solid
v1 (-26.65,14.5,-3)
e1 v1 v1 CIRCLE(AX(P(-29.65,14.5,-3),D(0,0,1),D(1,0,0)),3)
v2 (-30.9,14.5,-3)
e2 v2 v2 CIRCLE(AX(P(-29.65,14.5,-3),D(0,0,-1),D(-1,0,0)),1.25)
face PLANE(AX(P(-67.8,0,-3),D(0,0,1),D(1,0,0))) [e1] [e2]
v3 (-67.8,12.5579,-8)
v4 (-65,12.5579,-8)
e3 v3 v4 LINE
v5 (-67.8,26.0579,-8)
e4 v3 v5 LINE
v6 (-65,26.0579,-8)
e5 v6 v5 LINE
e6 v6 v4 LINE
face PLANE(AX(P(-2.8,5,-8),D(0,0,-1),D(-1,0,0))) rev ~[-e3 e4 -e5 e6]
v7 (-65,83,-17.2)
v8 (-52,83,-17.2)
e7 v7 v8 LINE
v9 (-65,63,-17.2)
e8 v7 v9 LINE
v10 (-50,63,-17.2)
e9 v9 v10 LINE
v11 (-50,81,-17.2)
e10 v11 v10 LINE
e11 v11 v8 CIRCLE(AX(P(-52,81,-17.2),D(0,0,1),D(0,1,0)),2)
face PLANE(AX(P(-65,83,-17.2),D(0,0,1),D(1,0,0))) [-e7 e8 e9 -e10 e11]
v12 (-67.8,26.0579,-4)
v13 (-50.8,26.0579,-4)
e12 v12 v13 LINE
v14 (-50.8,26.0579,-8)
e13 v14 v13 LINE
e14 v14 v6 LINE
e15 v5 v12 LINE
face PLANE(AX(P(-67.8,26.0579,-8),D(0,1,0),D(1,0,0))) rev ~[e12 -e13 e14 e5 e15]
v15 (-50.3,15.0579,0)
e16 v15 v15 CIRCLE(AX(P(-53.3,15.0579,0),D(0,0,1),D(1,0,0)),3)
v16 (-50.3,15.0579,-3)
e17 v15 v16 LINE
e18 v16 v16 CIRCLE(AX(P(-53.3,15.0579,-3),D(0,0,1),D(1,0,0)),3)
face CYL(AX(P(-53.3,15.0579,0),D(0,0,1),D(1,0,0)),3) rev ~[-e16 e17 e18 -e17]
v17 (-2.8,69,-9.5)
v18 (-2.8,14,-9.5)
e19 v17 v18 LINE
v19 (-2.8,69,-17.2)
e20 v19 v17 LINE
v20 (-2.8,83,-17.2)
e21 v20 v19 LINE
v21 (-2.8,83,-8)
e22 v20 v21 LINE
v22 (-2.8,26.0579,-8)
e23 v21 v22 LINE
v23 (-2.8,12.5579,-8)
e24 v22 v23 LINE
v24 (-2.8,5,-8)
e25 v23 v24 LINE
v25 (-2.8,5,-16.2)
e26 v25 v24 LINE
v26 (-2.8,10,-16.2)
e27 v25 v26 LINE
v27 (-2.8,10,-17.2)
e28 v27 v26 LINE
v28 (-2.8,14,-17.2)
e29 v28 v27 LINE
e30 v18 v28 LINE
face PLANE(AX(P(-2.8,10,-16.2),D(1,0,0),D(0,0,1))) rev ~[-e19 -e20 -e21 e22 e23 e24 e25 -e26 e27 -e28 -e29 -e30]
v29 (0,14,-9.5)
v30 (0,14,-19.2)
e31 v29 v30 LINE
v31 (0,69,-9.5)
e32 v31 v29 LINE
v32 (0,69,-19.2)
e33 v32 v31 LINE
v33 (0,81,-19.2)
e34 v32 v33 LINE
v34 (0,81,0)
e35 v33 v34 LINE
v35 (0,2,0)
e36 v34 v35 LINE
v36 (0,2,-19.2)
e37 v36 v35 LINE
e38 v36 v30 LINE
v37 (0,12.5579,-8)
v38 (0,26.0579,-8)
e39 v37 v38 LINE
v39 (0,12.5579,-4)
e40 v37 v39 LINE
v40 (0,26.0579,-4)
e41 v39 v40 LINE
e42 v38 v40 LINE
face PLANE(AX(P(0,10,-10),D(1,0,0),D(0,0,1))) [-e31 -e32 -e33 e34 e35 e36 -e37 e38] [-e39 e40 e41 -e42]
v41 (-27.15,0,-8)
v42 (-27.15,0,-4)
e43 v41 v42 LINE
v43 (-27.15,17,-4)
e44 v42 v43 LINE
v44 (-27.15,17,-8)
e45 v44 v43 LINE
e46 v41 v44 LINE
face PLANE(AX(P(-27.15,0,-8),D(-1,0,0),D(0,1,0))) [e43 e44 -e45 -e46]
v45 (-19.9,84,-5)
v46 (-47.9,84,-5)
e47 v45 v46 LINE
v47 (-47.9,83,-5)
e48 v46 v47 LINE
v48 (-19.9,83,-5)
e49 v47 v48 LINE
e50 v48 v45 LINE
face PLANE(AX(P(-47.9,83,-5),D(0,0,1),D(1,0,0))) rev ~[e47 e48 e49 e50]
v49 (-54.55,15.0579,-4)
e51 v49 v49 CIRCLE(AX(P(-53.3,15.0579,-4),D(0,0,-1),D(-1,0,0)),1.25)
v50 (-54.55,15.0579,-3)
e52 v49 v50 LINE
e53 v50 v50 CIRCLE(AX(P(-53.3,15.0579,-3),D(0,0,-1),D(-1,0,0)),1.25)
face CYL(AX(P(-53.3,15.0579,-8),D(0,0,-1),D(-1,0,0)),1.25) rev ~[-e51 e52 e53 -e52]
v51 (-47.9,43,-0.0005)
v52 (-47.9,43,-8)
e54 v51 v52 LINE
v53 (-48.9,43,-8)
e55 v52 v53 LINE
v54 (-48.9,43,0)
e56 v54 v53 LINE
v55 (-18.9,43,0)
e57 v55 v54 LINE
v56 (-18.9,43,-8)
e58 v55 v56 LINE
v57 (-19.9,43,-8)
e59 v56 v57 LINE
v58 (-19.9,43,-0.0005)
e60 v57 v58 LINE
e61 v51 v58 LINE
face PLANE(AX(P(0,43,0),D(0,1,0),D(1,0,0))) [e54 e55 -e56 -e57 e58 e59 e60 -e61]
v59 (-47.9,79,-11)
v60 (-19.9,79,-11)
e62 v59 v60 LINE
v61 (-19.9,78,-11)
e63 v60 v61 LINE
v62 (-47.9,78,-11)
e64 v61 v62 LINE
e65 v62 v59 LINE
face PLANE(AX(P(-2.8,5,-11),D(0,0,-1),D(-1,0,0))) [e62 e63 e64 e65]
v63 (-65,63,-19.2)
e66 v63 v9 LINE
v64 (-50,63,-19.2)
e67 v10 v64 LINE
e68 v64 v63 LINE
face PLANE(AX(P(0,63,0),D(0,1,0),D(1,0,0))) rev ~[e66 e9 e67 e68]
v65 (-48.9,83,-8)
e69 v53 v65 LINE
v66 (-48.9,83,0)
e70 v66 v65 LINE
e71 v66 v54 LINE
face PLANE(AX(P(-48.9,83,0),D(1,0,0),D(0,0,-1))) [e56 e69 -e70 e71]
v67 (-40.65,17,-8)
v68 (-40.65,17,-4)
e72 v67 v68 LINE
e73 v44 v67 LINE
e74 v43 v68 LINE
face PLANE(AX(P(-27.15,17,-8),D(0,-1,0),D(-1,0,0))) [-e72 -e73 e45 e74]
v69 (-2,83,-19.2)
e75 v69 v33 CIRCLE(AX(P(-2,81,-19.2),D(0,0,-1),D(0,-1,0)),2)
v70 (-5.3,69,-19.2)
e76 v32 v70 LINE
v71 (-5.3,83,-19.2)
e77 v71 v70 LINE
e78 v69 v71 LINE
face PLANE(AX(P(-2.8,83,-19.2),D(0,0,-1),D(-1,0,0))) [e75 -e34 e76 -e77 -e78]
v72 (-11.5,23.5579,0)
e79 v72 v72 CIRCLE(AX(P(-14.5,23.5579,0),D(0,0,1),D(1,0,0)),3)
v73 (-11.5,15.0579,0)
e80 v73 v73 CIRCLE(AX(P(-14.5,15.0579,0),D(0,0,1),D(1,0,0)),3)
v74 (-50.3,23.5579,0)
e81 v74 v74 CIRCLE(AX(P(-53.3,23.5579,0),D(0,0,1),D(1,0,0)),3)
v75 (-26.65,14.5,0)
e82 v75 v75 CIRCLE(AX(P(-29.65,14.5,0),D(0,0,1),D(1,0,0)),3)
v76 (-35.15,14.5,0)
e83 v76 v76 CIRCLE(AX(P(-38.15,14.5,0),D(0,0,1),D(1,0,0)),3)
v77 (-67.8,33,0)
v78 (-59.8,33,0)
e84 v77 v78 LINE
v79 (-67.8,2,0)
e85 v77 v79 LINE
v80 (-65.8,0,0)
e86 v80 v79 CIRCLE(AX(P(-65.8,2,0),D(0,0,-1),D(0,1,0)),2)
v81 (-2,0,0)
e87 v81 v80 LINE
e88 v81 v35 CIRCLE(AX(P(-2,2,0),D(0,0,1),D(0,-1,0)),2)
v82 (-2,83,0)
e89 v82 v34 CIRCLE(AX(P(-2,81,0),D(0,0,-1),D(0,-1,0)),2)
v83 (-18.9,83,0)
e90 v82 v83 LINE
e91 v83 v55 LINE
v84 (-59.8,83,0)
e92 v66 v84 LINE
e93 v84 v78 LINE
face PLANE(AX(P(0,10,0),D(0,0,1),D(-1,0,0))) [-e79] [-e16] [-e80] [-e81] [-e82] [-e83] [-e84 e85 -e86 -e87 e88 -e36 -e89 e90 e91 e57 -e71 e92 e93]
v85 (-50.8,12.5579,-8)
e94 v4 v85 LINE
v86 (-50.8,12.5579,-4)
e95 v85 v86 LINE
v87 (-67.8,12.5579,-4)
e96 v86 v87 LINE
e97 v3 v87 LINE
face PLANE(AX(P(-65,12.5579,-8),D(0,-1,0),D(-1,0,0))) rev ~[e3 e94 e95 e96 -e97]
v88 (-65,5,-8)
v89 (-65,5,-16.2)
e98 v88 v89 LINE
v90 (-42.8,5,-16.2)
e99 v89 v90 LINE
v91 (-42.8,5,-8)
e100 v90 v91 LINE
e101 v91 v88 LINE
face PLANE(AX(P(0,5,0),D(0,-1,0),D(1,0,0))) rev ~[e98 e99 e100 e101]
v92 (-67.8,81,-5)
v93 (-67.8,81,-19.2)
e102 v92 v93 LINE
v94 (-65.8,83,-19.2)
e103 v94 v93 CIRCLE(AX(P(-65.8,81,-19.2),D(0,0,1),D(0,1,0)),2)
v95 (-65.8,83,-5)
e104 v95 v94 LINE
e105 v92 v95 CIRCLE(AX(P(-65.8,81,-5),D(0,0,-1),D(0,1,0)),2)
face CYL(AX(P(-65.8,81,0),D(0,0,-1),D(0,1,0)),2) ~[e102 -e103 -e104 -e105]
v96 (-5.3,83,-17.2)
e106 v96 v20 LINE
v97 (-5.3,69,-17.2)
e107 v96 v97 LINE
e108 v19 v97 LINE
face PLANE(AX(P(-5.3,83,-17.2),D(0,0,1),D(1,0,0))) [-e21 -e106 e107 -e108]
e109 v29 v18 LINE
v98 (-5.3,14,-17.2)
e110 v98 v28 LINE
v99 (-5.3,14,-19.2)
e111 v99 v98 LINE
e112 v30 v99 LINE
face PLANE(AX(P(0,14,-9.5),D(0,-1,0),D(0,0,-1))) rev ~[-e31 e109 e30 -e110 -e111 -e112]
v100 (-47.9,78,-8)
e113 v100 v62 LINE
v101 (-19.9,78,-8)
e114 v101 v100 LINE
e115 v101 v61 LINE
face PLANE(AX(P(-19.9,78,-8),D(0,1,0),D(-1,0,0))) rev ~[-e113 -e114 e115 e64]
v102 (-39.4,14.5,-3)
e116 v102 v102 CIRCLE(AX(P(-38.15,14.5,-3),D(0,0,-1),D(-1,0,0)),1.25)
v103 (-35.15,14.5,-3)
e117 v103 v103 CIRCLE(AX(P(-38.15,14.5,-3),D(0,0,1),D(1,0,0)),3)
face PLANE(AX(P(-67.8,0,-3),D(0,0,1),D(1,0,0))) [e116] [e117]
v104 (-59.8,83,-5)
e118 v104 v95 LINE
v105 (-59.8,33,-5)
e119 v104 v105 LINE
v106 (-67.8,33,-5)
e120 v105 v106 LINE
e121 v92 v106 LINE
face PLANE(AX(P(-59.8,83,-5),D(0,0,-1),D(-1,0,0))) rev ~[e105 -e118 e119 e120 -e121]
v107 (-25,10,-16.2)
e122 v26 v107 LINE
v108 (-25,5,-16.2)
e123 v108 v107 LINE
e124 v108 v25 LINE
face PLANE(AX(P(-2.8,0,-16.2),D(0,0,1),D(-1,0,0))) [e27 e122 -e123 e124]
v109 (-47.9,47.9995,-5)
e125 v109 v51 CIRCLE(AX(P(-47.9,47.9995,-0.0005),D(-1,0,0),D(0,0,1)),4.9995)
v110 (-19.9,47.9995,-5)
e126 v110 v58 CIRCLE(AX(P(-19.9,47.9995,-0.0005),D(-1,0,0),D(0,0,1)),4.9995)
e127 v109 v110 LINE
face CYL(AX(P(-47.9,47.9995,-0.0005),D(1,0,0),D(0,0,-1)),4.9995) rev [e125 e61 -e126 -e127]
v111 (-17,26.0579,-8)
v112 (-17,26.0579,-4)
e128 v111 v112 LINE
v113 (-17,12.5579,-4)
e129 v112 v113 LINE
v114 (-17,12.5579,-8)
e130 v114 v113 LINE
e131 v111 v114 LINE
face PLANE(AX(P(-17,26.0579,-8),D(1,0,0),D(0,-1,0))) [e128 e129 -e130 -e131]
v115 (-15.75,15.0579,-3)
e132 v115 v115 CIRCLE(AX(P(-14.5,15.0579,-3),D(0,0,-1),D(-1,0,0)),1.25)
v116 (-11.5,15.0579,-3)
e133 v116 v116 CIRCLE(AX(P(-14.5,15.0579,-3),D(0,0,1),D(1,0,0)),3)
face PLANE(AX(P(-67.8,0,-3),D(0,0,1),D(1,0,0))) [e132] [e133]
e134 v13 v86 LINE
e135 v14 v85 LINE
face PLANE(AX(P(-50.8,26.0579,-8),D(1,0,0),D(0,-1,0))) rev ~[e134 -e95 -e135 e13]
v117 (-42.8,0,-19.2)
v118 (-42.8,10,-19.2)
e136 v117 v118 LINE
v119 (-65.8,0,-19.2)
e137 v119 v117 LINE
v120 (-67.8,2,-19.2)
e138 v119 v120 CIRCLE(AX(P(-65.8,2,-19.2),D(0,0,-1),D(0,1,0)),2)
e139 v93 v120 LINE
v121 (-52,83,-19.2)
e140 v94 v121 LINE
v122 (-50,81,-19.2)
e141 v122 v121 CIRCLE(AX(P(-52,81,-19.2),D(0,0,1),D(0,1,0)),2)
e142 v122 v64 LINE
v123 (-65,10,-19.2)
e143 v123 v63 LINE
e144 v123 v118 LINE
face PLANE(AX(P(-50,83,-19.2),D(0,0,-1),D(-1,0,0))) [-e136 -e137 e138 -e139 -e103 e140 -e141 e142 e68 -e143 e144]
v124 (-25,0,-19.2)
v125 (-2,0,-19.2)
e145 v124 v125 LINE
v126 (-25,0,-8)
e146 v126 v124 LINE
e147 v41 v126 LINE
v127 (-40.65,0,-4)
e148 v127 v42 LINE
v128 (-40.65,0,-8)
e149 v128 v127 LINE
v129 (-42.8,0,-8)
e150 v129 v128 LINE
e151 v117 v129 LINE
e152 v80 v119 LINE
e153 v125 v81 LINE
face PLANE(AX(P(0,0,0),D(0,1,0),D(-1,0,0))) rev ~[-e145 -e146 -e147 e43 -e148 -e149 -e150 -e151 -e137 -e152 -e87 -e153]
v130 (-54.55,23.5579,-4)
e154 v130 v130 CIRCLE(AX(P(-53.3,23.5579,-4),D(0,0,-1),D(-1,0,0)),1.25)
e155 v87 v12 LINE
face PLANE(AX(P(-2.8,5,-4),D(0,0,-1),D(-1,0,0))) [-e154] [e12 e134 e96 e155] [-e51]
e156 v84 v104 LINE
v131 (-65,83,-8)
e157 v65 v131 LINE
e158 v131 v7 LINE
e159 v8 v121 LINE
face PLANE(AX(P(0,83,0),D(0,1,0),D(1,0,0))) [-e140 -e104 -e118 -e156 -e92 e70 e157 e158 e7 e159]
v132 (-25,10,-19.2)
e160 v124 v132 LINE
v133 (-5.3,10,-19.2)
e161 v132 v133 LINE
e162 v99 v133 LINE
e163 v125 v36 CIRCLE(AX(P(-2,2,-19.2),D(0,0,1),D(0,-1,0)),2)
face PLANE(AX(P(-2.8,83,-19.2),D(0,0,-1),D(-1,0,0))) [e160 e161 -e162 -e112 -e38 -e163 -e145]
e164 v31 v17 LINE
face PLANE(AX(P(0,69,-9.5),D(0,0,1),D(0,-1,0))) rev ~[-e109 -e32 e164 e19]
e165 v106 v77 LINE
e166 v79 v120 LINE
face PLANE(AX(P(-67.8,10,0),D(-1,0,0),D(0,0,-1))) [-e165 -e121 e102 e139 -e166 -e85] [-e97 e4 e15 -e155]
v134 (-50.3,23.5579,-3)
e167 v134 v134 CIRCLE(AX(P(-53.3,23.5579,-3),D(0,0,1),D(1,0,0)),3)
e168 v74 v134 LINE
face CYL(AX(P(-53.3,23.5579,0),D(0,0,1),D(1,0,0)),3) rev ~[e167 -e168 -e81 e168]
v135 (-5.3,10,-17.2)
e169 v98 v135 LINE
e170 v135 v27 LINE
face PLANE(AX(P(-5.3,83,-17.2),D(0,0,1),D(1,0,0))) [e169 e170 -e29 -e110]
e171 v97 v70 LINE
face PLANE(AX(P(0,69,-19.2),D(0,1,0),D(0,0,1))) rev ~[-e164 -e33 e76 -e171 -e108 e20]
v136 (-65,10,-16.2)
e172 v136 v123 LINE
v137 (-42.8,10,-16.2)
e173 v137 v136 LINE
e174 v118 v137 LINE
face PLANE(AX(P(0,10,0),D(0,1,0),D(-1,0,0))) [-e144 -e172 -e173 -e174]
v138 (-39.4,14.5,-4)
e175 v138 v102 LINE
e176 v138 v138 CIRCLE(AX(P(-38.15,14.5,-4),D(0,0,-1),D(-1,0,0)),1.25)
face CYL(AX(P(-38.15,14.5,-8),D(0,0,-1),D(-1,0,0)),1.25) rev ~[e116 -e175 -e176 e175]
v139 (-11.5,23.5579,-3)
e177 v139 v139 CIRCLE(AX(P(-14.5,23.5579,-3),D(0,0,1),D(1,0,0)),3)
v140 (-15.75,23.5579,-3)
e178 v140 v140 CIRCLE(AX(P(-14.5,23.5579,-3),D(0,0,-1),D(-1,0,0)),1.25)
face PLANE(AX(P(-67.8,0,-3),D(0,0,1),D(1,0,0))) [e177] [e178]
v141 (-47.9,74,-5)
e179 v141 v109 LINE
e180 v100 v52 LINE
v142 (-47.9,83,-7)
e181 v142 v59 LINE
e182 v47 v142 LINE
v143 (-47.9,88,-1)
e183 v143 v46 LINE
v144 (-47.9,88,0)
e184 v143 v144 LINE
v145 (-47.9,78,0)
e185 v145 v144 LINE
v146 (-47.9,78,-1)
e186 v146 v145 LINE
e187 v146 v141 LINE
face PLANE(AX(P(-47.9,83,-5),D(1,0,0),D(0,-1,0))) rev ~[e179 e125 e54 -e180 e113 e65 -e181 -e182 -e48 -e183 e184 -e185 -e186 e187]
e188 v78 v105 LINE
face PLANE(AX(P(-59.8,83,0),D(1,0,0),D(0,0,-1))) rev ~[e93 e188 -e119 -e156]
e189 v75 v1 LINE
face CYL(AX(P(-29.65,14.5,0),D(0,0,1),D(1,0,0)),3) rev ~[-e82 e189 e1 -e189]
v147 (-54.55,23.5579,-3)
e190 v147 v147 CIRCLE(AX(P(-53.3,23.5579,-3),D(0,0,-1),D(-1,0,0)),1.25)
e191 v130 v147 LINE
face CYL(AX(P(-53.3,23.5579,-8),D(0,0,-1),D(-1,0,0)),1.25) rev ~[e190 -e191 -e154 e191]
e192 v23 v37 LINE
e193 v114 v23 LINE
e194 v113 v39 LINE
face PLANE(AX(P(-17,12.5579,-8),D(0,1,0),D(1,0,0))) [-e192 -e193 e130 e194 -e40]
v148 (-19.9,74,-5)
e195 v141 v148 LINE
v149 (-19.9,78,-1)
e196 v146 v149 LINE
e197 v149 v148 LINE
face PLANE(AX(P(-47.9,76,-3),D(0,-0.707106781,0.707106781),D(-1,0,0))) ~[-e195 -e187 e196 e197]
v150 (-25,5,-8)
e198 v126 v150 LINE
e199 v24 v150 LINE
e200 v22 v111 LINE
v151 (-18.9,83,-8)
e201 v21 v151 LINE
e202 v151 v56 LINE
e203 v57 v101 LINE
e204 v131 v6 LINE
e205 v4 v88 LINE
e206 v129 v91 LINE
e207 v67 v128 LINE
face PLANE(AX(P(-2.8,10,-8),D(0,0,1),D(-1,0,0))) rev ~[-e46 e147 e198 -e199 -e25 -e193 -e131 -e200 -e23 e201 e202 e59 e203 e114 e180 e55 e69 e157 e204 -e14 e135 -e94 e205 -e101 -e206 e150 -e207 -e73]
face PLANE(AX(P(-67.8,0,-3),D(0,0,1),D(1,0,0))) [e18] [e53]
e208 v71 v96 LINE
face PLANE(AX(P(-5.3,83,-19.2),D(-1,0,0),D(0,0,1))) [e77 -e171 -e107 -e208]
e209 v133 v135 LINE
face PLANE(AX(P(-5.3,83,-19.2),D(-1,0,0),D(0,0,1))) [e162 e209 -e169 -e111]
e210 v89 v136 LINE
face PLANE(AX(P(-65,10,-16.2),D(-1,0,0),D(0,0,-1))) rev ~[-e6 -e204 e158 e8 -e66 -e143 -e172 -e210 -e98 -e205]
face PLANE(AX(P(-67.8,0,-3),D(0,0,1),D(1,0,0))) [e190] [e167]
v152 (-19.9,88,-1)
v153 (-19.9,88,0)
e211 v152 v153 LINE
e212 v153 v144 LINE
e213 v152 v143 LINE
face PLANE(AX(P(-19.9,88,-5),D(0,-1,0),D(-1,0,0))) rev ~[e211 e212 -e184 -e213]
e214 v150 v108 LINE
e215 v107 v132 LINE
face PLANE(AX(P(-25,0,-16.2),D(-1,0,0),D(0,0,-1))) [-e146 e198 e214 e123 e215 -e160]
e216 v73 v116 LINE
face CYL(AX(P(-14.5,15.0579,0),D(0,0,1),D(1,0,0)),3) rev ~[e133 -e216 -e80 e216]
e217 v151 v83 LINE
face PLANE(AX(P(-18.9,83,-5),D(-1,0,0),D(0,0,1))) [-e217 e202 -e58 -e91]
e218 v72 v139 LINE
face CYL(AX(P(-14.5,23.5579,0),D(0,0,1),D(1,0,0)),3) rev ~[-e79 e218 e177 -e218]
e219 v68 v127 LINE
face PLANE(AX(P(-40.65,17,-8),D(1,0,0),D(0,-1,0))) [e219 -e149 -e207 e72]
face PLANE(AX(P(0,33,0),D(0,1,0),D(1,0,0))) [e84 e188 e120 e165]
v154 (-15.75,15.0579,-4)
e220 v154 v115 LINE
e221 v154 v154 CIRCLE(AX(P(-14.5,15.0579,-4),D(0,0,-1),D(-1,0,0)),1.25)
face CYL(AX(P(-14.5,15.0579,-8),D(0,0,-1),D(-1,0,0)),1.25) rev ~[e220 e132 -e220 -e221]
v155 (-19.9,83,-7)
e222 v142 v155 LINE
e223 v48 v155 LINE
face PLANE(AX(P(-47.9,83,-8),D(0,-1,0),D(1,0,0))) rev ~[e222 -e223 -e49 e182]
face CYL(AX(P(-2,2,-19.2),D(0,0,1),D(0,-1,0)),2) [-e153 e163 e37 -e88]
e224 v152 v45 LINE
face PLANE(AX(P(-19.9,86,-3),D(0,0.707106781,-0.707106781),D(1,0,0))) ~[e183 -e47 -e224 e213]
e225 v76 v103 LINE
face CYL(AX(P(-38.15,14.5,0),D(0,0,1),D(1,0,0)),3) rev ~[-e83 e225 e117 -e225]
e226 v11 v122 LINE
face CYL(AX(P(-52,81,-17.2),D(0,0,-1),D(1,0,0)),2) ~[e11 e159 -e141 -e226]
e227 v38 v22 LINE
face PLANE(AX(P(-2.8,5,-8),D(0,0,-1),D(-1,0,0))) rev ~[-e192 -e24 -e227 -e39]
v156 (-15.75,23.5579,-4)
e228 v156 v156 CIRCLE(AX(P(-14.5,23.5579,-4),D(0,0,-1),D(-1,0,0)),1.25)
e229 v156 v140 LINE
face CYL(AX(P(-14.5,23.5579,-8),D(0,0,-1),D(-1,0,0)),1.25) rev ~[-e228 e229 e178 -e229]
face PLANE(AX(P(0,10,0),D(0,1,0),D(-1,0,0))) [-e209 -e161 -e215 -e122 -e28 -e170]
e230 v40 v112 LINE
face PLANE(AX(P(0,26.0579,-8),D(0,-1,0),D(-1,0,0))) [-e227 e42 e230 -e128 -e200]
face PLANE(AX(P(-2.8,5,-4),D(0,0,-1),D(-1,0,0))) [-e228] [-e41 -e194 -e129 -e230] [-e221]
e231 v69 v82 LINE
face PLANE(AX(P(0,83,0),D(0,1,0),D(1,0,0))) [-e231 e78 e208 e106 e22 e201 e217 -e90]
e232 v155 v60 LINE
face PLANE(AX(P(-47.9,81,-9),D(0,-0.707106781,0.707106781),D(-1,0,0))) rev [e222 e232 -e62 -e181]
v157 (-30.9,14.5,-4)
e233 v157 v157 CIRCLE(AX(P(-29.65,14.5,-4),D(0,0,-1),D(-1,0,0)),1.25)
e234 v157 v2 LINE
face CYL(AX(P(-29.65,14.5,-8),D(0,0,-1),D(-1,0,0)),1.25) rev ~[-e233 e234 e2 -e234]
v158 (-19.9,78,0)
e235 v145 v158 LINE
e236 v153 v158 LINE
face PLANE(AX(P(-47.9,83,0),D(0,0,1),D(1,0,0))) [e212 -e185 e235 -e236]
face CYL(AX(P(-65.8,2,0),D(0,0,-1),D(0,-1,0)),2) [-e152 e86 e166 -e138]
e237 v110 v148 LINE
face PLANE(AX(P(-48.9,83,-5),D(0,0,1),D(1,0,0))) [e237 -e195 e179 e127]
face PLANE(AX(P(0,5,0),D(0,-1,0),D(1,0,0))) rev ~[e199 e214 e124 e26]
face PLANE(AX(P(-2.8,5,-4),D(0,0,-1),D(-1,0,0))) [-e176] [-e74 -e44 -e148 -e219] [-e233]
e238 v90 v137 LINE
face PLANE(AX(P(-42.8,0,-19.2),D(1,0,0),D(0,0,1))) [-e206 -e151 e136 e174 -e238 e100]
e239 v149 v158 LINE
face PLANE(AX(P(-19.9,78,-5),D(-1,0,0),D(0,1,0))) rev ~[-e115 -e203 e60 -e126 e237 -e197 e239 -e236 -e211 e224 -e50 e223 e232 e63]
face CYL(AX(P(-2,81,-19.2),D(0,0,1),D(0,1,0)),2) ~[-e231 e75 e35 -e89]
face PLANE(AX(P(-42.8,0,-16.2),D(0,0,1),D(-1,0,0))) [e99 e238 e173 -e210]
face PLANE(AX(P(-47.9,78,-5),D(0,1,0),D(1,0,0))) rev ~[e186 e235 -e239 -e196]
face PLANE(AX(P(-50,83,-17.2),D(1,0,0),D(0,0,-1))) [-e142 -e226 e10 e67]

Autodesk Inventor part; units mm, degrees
ref_plane "YZ Plane" through (0, 0, 0) normal (1, 0, 0) x (0, 1, 0)
ref_plane "XZ Plane" through (0, 0, 0) normal (0, 1, 0) x (-1, 0, 0)
ref_plane "XY Plane" through (0, 0, 0) normal (0, 0, 1) x (1, 0, 0)
sketch "Sketch2" plane through (0, 0, 0) normal (0, 1, 0) x (-1, 0, 0)
  line L0 (0, 0) -> (67.8, 0)
  line L1 (67.8, 0) -> (67.8, -19.2)
  line L2 (67.8, -19.2) -> (42.8, -19.2)
  line L3 (42.8, -19.2) -> (42.8, -16.2)
  line L4 (42.8, -16.2) -> (65, -16.2)
  line L5 (65, -16.2) -> (65, -8)
  line L6 (65, -8) -> (2.8, -8)
  line L7 (2.8, -8) -> (2.8, -16.2)
  line L8 (2.8, -16.2) -> (25, -16.2)
  line L9 (25, -16.2) -> (25, -19.2)
  line L10 (25, -19.2) -> (0, -19.2)
  line L11 (0, -19.2) -> (0, 0)
  dimension "d2" = 62.2
  dimension "d3" = 2.8
  dimension "d4" = 2.8
  dimension "d5" = 3
  dimension "d6" = 25
  dimension "d7" = 25
  dimension "d8" = 8
  dimension "d9" = 8.2
extrude "Extrusion1" add sketch "Sketch2" along normal blind 10
sketch "Sketch3" plane through (0, 0, 0) normal (0, -1, 0) x (1, 0, 0)
  line L0 (-2.8, -8) -> (-65, -8) projected
  line L1 (-42.8, -8) -> (-65, -8)
  line L2 (-65, -8) -> (-65, -16.2)
  line L3 (-65, -16.2) -> (-42.8, -16.2)
  line L4 (-42.8, -16.2) -> (-42.8, -8)
  line L5 (-42.8, -19.2) -> (-42.8, -16.2) projected
  line L6 (-42.8, -16.2) -> (-65, -16.2) projected
  line L7 (-25, -16.2) -> (-2.8, -16.2)
  line L8 (-2.8, -16.2) -> (-2.8, -8)
  line L9 (-2.8, -8) -> (-25, -8)
  line L10 (-25, -8) -> (-25, -16.2)
  line L11 (-65, -8) -> (-65, -16.2) projected
  point P0 (0, 0)
extrude "Extrusion2" add sketch "Sketch3" against normal blind 5
sketch "Sketch7" plane through (0, 10, 0) normal (0, 1, 0) x (1, 0, 0)
  line L0 (0, 10) -> (0, 0)
  line L1 (0, 0) -> (-67.8, 0)
  line L2 (-67.8, 0) -> (-67.8, 19.2)
  line L3 (0, 10) -> (0, 19.2)
  line L4 (0, 19.2) -> (-2.8, 19.2)
  line L5 (-2.8, 19.2) -> (-2.8, 8)
  line L6 (-2.8, 8) -> (-65, 8)
  line L7 (-65, 8) -> (-65, 19.2)
  line L8 (-65, 19.2) -> (-67.8, 19.2)
  line L9 (-67.8, 19.2) -> (-67.8, 0) projected
  line L10 (0, 19.2) -> (-25, 19.2) projected
  line L11 (-2.8, 8) -> (-65, 8) projected
  line L12 (-65, 8) -> (-65, 16.2) projected
  line L13 (-2.8, 16.2) -> (-2.8, 8) projected
extrude "Extrusion5" add sketch "Sketch7" along normal blind 73
sketch "Sketch10" plane through (0, 83, 0) normal (0, 1, 0) x (1, 0, 0)
  line L0 (-18.9, 0) -> (-48.9, 0)
  line L1 (-48.9, 0) -> (-48.9, 5)
  line L2 (-48.9, 5) -> (-18.9, 5)
  line L3 (-18.9, 5) -> (-18.9, 0)
  line L4 (-2.8, 8) -> (-65, 8) projected
  line L5 (-67.8, 0) -> (0, 0) projected
  line L6 (-33.9, 8) -> (-33.9, 19.521) construction
  line L7 (-33.9, 0) -> (-33.9, -9.399) construction
  dimension "d40" = 3
  dimension "d41" = 30
extrude "Extrusion8" cut sketch "Sketch10" against normal blind 40
sketch "Sketch11" plane through (-48.9, 83, -5) normal (0, 0, 1) x (1, 0, 0)
  line L0 (0, 0) -> (1, 0)
  line L1 (1, 0) -> (1, -40)
  line L2 (1, -40) -> (0, -40)
  line L3 (0, -40) -> (0, 0)
  line L4 (29, 0) -> (30, 0)
  line L5 (30, 0) -> (30, -40)
  line L6 (30, -40) -> (29, -40)
  line L7 (29, -40) -> (29, 0)
  line L8 (30, -40) -> (0, -40) projected
  line L9 (30, 0) -> (30, -40) projected
  line L10 (0, -40) -> (0, 0) projected
  line L11 (0, 0) -> (30, 0) projected
  point P0 (48.9, -83)
  dimension "d44" = 1
  dimension "d45" = 1
extrude "Extrusion9" cut sketch "Sketch11" against normal blind 30 contours L0 L1 L2 L3 | L4 L5 L6 L7
sketch "Sketch13" plane through (-2.8, 5, -8) normal (0, 0, -1) x (-1, 0, 0)
  line L0 (45.1, 78) -> (17.1, 78)
  line L1 (17.1, 78) -> (17.1, 73)
  line L2 (17.1, 73) -> (45.1, 73)
  line L3 (45.1, 73) -> (45.1, 78)
  line L4 (17.1, 78) -> (45.1, 78) projected
  line L5 (17.1, 78) -> (17.1, 38) projected
  line L6 (45.1, 38) -> (45.1, 78) projected
  point P0 (-2.8, -5)
  dimension "d48" = 5
extrude "Extrusion10" add sketch "Sketch13" along normal blind 3
chamfer "Chamfer1" distance 4 angle 45 1 edges at (-33.9, 83, -11)
fillet "Fillet1" radius 5 1 edges at (-33.9, 43, -5)
fillet "Fillet2" radius 2 4 edges at (0, 0, -9.6) (0, 83, -9.6) (-67.8, 0, -9.6) (-67.8, 83, -9.6)
sketch "Sketch16" plane through (-2.8, 5, -8) normal (0, 0, -1) x (-1, 0, 0)
  line L0 (65, 21.0579) -> (48, 21.0579)
  line L1 (48, 21.0579) -> (48, 7.5579)
  line L2 (48, 7.5579) -> (65, 7.5579)
  line L3 (65, 7.5579) -> (65, 21.0579)
  line L4 (24.35, 12) -> (37.85, 12)
  line L5 (37.85, 12) -> (37.85, -5)
  line L6 (37.85, -5) -> (24.35, -5)
  line L7 (24.35, -5) -> (24.35, 12)
  line L8 (40, -5) -> (22.2, -5) projected
  line L9 (22.2, -5) -> (22.2, 5) projected
  line L10 (62.2, 5) -> (62.2, 78) projected
  line L11 (65, -3) -> (65, 76) projected
  line L12 (-2.8, 21.0579) -> (14.2, 21.0579)
  line L13 (14.2, 21.0579) -> (14.2, 7.5579)
  line L14 (14.2, 7.5579) -> (-2.8, 7.5579)
  line L15 (-2.8, 7.5579) -> (-2.8, 21.0579)
  line L16 (-2.8, -3) -> (-2.8, 76) projected
  point P0 (-2.8, -5)
  dimension "d80" = 13.5
  dimension "d81" = 17
  dimension "d82" = 13.5
  dimension "d83" = 17
  dimension "d84" = 2.15
  dimension "d138" = 17
extrude "Extrusion15" cut sketch "Sketch16" against normal blind 4
sketch "Sketch8" plane through (-25, 0, -8) normal (0, 0, -1) x (-1, 0, 0)
  circle A0 centre (4.65, 14.5) radius 1.25
  circle A1 centre (13.15, 14.5) radius 1.25
  line L0 (2.15, 17) -> (15.65, 17) projected
  line L1 (2.15, 0) -> (2.15, 17) projected
  line L2 (15.65, 17) -> (15.65, 0) projected
  circle A2 centre (28.3, 23.5579) radius 1.25
  circle A3 centre (28.3, 15.0579) radius 1.25
  line L3 (25.8, 26.0579) -> (40, 26.0579) projected
  line L4 (25.8, 12.5579) -> (25.8, 26.0579) projected
  line L5 (40, 12.5579) -> (25.8, 12.5579) projected
  circle A4 centre (-10.5, 23.5579) radius 1.25
  circle A5 centre (-10.5, 15.0579) radius 1.25
  line L6 (-8, 26.0579) -> (-8, 12.5579) projected
  line L7 (-8, 12.5579) -> (-25, 12.5579) projected
  line L8 (-25, 26.0579) -> (-8, 26.0579) projected
  point P0 (-25, 0)
  dimension "d28" = 2.5
  dimension "d29" = 2.5
  dimension "d87" = 2.5
  dimension "d88" = 2.5
  dimension "d89" = 2.5
  dimension "d90" = 2.5
  dimension "d91" = 2.5
  dimension "d92" = 2.5
  dimension "d93" = 2.5
  dimension "d94" = 2.5
  dimension "d95" = 2.5
  dimension "d96" = 2.5
  dimension "d139" = 2.5
  dimension "d140" = 2.5
  dimension "d141" = 2.5
  dimension "d142" = 2.5
  dimension "d143" = 2.5
  dimension "d144" = 2.5
extrude "Extrusion16" cut sketch "Sketch8" against normal up to surface (8 mm away)
sketch "Sketch15" plane through (-67.8, 0, 0) normal (0, 0, 1) x (1, 0, 0)
  circle A0 centre (53.3, 15.0579) radius 3
  circle A1 centre (53.3, 23.5579) radius 3
  circle A2 centre (38.15, 14.5) radius 3
  circle A3 centre (29.65, 14.5) radius 3
  circle A4 centre (14.5, 15.0579) radius 3
  circle A5 centre (14.5, 23.5579) radius 3
  circle A6 centre (53.3, 15.0579) radius 1.25 projected
  circle A7 centre (53.3, 23.5579) radius 1.25 projected
  circle A8 centre (38.15, 14.5) radius 1.25 projected
  circle A9 centre (29.65, 14.5) radius 1.25 projected
  circle A10 centre (14.5, 15.0579) radius 1.25 projected
  circle A11 centre (14.5, 23.5579) radius 1.25 projected
  point P0 (67.8, 0)
  dimension "d145" = 6
  dimension "d146" = 6
  dimension "d147" = 6
  dimension "d148" = 6
  dimension "d149" = 6
  dimension "d150" = 6
extrude "Extrusion17" cut sketch "Sketch15" against normal blind 3
sketch "Sketch17" plane through (0, 83, 0) normal (0, 1, 0) x (1, 0, 0)
  line L0 (-65, 17.2) -> (-50, 17.2)
  line L1 (-50, 17.2) -> (-50, 19.2)
  line L2 (-50, 19.2) -> (-65, 19.2)
  line L3 (-65, 19.2) -> (-65, 17.2)
  line L4 (-65, 16.2) -> (-42.8, 16.2) projected
  line L5 (-65, 8) -> (-65, 19.2) projected
  line L6 (-42.8, 19.2) -> (-65, 19.2) projected
  point P0 (0, 0)
  dimension "d111" = 2
  dimension "d112" = 15
extrude "Extrusion18" add sketch "Sketch17" against normal blind 20
fillet "Fillet4" radius 2 1 edges at (-50, 83, -18.2)
sketch "Sketch18" plane through (0, 83, 0) normal (0, 1, 0) x (1, 0, 0)
  line L0 (-67.8, 0) -> (-59.8, 0)
  line L1 (-59.8, 0) -> (-59.8, 5)
  line L2 (-59.8, 5) -> (-67.8, 5)
  line L3 (-67.8, 5) -> (-67.8, 0)
  point P0 (0, 0)
  dimension "d116" = 8
  dimension "d117" = 5
extrude "Extrusion19" cut sketch "Sketch18" against normal blind 50
sketch "Sketch19" plane through (0, 83, 0) normal (0, 1, 0) x (1, 0, 0)
  line L0 (-2.8, 19.2) -> (-5.3, 19.2)
  line L1 (-5.3, 19.2) -> (-5.3, 17.2)
  line L2 (-5.3, 17.2) -> (-2.8, 17.2)
  line L3 (-2.8, 17.2) -> (-2.8, 19.2)
  line L4 (-65, 17.2) -> (-52, 17.2) projected
  point P0 (0, 0)
  dimension "d120" = 2.5
extrude "Extrusion20" add sketch "Sketch19" against normal up to surface (73 mm away)
sketch "Sketch20" plane through (0, 2, 0) normal (1, 0, 0) x (0, 0, -1)
  line L0 (19.2, 67) -> (9.5, 67)
  line L1 (9.5, 67) -> (9.5, 12)
  line L2 (9.5, 12) -> (19.2, 12)
  line L3 (19.2, 12) -> (19.2, 67)
  line L4 (19.2, 81) -> (0, 81) projected
  line L5 (0, -2) -> (19.2, -2) projected
  line L6 (19.2, 0) -> (19.2, 79) projected
  line L7 (8, 3) -> (8, 81) projected
  dimension "d123" = 14
  dimension "d124" = 14
  dimension "d126" = 1.5
extrude "Extrusion21" cut sketch "Sketch20" against normal blind 10
sketch "Sketch21" plane through (-47.9, 83, -5) normal (0, 0, 1) x (1, 0, 0)
  line L0 (28, -35) -> (28, 0) projected
  line L1 (0, -5) -> (28, -5)
  line L2 (28, -5) -> (28, 5)
  line L3 (28, 5) -> (0, 5)
  line L4 (0, 5) -> (0, -5)
  line L5 (0, 0) -> (0, -35) projected
  line L6 (0, -5) -> (28, -5) projected
  point P0 (47.9, -83)
extrude "Extrusion22" add sketch "Sketch21" along normal up to surface (5 mm away)
chamfer "Chamfer2" distance 4 angle 45 1 edges at (-33.9, 88, -5)
chamfer "Chamfer3" distance 4 angle 45 1 edges at (-33.9, 78, -5)
ref_plane "Work Plane2" through (-33.9, 2, 0) normal (1, 0, 0) x (0, 0, -1)
properties part number "ZAPATO ZOWI DER2.1"
